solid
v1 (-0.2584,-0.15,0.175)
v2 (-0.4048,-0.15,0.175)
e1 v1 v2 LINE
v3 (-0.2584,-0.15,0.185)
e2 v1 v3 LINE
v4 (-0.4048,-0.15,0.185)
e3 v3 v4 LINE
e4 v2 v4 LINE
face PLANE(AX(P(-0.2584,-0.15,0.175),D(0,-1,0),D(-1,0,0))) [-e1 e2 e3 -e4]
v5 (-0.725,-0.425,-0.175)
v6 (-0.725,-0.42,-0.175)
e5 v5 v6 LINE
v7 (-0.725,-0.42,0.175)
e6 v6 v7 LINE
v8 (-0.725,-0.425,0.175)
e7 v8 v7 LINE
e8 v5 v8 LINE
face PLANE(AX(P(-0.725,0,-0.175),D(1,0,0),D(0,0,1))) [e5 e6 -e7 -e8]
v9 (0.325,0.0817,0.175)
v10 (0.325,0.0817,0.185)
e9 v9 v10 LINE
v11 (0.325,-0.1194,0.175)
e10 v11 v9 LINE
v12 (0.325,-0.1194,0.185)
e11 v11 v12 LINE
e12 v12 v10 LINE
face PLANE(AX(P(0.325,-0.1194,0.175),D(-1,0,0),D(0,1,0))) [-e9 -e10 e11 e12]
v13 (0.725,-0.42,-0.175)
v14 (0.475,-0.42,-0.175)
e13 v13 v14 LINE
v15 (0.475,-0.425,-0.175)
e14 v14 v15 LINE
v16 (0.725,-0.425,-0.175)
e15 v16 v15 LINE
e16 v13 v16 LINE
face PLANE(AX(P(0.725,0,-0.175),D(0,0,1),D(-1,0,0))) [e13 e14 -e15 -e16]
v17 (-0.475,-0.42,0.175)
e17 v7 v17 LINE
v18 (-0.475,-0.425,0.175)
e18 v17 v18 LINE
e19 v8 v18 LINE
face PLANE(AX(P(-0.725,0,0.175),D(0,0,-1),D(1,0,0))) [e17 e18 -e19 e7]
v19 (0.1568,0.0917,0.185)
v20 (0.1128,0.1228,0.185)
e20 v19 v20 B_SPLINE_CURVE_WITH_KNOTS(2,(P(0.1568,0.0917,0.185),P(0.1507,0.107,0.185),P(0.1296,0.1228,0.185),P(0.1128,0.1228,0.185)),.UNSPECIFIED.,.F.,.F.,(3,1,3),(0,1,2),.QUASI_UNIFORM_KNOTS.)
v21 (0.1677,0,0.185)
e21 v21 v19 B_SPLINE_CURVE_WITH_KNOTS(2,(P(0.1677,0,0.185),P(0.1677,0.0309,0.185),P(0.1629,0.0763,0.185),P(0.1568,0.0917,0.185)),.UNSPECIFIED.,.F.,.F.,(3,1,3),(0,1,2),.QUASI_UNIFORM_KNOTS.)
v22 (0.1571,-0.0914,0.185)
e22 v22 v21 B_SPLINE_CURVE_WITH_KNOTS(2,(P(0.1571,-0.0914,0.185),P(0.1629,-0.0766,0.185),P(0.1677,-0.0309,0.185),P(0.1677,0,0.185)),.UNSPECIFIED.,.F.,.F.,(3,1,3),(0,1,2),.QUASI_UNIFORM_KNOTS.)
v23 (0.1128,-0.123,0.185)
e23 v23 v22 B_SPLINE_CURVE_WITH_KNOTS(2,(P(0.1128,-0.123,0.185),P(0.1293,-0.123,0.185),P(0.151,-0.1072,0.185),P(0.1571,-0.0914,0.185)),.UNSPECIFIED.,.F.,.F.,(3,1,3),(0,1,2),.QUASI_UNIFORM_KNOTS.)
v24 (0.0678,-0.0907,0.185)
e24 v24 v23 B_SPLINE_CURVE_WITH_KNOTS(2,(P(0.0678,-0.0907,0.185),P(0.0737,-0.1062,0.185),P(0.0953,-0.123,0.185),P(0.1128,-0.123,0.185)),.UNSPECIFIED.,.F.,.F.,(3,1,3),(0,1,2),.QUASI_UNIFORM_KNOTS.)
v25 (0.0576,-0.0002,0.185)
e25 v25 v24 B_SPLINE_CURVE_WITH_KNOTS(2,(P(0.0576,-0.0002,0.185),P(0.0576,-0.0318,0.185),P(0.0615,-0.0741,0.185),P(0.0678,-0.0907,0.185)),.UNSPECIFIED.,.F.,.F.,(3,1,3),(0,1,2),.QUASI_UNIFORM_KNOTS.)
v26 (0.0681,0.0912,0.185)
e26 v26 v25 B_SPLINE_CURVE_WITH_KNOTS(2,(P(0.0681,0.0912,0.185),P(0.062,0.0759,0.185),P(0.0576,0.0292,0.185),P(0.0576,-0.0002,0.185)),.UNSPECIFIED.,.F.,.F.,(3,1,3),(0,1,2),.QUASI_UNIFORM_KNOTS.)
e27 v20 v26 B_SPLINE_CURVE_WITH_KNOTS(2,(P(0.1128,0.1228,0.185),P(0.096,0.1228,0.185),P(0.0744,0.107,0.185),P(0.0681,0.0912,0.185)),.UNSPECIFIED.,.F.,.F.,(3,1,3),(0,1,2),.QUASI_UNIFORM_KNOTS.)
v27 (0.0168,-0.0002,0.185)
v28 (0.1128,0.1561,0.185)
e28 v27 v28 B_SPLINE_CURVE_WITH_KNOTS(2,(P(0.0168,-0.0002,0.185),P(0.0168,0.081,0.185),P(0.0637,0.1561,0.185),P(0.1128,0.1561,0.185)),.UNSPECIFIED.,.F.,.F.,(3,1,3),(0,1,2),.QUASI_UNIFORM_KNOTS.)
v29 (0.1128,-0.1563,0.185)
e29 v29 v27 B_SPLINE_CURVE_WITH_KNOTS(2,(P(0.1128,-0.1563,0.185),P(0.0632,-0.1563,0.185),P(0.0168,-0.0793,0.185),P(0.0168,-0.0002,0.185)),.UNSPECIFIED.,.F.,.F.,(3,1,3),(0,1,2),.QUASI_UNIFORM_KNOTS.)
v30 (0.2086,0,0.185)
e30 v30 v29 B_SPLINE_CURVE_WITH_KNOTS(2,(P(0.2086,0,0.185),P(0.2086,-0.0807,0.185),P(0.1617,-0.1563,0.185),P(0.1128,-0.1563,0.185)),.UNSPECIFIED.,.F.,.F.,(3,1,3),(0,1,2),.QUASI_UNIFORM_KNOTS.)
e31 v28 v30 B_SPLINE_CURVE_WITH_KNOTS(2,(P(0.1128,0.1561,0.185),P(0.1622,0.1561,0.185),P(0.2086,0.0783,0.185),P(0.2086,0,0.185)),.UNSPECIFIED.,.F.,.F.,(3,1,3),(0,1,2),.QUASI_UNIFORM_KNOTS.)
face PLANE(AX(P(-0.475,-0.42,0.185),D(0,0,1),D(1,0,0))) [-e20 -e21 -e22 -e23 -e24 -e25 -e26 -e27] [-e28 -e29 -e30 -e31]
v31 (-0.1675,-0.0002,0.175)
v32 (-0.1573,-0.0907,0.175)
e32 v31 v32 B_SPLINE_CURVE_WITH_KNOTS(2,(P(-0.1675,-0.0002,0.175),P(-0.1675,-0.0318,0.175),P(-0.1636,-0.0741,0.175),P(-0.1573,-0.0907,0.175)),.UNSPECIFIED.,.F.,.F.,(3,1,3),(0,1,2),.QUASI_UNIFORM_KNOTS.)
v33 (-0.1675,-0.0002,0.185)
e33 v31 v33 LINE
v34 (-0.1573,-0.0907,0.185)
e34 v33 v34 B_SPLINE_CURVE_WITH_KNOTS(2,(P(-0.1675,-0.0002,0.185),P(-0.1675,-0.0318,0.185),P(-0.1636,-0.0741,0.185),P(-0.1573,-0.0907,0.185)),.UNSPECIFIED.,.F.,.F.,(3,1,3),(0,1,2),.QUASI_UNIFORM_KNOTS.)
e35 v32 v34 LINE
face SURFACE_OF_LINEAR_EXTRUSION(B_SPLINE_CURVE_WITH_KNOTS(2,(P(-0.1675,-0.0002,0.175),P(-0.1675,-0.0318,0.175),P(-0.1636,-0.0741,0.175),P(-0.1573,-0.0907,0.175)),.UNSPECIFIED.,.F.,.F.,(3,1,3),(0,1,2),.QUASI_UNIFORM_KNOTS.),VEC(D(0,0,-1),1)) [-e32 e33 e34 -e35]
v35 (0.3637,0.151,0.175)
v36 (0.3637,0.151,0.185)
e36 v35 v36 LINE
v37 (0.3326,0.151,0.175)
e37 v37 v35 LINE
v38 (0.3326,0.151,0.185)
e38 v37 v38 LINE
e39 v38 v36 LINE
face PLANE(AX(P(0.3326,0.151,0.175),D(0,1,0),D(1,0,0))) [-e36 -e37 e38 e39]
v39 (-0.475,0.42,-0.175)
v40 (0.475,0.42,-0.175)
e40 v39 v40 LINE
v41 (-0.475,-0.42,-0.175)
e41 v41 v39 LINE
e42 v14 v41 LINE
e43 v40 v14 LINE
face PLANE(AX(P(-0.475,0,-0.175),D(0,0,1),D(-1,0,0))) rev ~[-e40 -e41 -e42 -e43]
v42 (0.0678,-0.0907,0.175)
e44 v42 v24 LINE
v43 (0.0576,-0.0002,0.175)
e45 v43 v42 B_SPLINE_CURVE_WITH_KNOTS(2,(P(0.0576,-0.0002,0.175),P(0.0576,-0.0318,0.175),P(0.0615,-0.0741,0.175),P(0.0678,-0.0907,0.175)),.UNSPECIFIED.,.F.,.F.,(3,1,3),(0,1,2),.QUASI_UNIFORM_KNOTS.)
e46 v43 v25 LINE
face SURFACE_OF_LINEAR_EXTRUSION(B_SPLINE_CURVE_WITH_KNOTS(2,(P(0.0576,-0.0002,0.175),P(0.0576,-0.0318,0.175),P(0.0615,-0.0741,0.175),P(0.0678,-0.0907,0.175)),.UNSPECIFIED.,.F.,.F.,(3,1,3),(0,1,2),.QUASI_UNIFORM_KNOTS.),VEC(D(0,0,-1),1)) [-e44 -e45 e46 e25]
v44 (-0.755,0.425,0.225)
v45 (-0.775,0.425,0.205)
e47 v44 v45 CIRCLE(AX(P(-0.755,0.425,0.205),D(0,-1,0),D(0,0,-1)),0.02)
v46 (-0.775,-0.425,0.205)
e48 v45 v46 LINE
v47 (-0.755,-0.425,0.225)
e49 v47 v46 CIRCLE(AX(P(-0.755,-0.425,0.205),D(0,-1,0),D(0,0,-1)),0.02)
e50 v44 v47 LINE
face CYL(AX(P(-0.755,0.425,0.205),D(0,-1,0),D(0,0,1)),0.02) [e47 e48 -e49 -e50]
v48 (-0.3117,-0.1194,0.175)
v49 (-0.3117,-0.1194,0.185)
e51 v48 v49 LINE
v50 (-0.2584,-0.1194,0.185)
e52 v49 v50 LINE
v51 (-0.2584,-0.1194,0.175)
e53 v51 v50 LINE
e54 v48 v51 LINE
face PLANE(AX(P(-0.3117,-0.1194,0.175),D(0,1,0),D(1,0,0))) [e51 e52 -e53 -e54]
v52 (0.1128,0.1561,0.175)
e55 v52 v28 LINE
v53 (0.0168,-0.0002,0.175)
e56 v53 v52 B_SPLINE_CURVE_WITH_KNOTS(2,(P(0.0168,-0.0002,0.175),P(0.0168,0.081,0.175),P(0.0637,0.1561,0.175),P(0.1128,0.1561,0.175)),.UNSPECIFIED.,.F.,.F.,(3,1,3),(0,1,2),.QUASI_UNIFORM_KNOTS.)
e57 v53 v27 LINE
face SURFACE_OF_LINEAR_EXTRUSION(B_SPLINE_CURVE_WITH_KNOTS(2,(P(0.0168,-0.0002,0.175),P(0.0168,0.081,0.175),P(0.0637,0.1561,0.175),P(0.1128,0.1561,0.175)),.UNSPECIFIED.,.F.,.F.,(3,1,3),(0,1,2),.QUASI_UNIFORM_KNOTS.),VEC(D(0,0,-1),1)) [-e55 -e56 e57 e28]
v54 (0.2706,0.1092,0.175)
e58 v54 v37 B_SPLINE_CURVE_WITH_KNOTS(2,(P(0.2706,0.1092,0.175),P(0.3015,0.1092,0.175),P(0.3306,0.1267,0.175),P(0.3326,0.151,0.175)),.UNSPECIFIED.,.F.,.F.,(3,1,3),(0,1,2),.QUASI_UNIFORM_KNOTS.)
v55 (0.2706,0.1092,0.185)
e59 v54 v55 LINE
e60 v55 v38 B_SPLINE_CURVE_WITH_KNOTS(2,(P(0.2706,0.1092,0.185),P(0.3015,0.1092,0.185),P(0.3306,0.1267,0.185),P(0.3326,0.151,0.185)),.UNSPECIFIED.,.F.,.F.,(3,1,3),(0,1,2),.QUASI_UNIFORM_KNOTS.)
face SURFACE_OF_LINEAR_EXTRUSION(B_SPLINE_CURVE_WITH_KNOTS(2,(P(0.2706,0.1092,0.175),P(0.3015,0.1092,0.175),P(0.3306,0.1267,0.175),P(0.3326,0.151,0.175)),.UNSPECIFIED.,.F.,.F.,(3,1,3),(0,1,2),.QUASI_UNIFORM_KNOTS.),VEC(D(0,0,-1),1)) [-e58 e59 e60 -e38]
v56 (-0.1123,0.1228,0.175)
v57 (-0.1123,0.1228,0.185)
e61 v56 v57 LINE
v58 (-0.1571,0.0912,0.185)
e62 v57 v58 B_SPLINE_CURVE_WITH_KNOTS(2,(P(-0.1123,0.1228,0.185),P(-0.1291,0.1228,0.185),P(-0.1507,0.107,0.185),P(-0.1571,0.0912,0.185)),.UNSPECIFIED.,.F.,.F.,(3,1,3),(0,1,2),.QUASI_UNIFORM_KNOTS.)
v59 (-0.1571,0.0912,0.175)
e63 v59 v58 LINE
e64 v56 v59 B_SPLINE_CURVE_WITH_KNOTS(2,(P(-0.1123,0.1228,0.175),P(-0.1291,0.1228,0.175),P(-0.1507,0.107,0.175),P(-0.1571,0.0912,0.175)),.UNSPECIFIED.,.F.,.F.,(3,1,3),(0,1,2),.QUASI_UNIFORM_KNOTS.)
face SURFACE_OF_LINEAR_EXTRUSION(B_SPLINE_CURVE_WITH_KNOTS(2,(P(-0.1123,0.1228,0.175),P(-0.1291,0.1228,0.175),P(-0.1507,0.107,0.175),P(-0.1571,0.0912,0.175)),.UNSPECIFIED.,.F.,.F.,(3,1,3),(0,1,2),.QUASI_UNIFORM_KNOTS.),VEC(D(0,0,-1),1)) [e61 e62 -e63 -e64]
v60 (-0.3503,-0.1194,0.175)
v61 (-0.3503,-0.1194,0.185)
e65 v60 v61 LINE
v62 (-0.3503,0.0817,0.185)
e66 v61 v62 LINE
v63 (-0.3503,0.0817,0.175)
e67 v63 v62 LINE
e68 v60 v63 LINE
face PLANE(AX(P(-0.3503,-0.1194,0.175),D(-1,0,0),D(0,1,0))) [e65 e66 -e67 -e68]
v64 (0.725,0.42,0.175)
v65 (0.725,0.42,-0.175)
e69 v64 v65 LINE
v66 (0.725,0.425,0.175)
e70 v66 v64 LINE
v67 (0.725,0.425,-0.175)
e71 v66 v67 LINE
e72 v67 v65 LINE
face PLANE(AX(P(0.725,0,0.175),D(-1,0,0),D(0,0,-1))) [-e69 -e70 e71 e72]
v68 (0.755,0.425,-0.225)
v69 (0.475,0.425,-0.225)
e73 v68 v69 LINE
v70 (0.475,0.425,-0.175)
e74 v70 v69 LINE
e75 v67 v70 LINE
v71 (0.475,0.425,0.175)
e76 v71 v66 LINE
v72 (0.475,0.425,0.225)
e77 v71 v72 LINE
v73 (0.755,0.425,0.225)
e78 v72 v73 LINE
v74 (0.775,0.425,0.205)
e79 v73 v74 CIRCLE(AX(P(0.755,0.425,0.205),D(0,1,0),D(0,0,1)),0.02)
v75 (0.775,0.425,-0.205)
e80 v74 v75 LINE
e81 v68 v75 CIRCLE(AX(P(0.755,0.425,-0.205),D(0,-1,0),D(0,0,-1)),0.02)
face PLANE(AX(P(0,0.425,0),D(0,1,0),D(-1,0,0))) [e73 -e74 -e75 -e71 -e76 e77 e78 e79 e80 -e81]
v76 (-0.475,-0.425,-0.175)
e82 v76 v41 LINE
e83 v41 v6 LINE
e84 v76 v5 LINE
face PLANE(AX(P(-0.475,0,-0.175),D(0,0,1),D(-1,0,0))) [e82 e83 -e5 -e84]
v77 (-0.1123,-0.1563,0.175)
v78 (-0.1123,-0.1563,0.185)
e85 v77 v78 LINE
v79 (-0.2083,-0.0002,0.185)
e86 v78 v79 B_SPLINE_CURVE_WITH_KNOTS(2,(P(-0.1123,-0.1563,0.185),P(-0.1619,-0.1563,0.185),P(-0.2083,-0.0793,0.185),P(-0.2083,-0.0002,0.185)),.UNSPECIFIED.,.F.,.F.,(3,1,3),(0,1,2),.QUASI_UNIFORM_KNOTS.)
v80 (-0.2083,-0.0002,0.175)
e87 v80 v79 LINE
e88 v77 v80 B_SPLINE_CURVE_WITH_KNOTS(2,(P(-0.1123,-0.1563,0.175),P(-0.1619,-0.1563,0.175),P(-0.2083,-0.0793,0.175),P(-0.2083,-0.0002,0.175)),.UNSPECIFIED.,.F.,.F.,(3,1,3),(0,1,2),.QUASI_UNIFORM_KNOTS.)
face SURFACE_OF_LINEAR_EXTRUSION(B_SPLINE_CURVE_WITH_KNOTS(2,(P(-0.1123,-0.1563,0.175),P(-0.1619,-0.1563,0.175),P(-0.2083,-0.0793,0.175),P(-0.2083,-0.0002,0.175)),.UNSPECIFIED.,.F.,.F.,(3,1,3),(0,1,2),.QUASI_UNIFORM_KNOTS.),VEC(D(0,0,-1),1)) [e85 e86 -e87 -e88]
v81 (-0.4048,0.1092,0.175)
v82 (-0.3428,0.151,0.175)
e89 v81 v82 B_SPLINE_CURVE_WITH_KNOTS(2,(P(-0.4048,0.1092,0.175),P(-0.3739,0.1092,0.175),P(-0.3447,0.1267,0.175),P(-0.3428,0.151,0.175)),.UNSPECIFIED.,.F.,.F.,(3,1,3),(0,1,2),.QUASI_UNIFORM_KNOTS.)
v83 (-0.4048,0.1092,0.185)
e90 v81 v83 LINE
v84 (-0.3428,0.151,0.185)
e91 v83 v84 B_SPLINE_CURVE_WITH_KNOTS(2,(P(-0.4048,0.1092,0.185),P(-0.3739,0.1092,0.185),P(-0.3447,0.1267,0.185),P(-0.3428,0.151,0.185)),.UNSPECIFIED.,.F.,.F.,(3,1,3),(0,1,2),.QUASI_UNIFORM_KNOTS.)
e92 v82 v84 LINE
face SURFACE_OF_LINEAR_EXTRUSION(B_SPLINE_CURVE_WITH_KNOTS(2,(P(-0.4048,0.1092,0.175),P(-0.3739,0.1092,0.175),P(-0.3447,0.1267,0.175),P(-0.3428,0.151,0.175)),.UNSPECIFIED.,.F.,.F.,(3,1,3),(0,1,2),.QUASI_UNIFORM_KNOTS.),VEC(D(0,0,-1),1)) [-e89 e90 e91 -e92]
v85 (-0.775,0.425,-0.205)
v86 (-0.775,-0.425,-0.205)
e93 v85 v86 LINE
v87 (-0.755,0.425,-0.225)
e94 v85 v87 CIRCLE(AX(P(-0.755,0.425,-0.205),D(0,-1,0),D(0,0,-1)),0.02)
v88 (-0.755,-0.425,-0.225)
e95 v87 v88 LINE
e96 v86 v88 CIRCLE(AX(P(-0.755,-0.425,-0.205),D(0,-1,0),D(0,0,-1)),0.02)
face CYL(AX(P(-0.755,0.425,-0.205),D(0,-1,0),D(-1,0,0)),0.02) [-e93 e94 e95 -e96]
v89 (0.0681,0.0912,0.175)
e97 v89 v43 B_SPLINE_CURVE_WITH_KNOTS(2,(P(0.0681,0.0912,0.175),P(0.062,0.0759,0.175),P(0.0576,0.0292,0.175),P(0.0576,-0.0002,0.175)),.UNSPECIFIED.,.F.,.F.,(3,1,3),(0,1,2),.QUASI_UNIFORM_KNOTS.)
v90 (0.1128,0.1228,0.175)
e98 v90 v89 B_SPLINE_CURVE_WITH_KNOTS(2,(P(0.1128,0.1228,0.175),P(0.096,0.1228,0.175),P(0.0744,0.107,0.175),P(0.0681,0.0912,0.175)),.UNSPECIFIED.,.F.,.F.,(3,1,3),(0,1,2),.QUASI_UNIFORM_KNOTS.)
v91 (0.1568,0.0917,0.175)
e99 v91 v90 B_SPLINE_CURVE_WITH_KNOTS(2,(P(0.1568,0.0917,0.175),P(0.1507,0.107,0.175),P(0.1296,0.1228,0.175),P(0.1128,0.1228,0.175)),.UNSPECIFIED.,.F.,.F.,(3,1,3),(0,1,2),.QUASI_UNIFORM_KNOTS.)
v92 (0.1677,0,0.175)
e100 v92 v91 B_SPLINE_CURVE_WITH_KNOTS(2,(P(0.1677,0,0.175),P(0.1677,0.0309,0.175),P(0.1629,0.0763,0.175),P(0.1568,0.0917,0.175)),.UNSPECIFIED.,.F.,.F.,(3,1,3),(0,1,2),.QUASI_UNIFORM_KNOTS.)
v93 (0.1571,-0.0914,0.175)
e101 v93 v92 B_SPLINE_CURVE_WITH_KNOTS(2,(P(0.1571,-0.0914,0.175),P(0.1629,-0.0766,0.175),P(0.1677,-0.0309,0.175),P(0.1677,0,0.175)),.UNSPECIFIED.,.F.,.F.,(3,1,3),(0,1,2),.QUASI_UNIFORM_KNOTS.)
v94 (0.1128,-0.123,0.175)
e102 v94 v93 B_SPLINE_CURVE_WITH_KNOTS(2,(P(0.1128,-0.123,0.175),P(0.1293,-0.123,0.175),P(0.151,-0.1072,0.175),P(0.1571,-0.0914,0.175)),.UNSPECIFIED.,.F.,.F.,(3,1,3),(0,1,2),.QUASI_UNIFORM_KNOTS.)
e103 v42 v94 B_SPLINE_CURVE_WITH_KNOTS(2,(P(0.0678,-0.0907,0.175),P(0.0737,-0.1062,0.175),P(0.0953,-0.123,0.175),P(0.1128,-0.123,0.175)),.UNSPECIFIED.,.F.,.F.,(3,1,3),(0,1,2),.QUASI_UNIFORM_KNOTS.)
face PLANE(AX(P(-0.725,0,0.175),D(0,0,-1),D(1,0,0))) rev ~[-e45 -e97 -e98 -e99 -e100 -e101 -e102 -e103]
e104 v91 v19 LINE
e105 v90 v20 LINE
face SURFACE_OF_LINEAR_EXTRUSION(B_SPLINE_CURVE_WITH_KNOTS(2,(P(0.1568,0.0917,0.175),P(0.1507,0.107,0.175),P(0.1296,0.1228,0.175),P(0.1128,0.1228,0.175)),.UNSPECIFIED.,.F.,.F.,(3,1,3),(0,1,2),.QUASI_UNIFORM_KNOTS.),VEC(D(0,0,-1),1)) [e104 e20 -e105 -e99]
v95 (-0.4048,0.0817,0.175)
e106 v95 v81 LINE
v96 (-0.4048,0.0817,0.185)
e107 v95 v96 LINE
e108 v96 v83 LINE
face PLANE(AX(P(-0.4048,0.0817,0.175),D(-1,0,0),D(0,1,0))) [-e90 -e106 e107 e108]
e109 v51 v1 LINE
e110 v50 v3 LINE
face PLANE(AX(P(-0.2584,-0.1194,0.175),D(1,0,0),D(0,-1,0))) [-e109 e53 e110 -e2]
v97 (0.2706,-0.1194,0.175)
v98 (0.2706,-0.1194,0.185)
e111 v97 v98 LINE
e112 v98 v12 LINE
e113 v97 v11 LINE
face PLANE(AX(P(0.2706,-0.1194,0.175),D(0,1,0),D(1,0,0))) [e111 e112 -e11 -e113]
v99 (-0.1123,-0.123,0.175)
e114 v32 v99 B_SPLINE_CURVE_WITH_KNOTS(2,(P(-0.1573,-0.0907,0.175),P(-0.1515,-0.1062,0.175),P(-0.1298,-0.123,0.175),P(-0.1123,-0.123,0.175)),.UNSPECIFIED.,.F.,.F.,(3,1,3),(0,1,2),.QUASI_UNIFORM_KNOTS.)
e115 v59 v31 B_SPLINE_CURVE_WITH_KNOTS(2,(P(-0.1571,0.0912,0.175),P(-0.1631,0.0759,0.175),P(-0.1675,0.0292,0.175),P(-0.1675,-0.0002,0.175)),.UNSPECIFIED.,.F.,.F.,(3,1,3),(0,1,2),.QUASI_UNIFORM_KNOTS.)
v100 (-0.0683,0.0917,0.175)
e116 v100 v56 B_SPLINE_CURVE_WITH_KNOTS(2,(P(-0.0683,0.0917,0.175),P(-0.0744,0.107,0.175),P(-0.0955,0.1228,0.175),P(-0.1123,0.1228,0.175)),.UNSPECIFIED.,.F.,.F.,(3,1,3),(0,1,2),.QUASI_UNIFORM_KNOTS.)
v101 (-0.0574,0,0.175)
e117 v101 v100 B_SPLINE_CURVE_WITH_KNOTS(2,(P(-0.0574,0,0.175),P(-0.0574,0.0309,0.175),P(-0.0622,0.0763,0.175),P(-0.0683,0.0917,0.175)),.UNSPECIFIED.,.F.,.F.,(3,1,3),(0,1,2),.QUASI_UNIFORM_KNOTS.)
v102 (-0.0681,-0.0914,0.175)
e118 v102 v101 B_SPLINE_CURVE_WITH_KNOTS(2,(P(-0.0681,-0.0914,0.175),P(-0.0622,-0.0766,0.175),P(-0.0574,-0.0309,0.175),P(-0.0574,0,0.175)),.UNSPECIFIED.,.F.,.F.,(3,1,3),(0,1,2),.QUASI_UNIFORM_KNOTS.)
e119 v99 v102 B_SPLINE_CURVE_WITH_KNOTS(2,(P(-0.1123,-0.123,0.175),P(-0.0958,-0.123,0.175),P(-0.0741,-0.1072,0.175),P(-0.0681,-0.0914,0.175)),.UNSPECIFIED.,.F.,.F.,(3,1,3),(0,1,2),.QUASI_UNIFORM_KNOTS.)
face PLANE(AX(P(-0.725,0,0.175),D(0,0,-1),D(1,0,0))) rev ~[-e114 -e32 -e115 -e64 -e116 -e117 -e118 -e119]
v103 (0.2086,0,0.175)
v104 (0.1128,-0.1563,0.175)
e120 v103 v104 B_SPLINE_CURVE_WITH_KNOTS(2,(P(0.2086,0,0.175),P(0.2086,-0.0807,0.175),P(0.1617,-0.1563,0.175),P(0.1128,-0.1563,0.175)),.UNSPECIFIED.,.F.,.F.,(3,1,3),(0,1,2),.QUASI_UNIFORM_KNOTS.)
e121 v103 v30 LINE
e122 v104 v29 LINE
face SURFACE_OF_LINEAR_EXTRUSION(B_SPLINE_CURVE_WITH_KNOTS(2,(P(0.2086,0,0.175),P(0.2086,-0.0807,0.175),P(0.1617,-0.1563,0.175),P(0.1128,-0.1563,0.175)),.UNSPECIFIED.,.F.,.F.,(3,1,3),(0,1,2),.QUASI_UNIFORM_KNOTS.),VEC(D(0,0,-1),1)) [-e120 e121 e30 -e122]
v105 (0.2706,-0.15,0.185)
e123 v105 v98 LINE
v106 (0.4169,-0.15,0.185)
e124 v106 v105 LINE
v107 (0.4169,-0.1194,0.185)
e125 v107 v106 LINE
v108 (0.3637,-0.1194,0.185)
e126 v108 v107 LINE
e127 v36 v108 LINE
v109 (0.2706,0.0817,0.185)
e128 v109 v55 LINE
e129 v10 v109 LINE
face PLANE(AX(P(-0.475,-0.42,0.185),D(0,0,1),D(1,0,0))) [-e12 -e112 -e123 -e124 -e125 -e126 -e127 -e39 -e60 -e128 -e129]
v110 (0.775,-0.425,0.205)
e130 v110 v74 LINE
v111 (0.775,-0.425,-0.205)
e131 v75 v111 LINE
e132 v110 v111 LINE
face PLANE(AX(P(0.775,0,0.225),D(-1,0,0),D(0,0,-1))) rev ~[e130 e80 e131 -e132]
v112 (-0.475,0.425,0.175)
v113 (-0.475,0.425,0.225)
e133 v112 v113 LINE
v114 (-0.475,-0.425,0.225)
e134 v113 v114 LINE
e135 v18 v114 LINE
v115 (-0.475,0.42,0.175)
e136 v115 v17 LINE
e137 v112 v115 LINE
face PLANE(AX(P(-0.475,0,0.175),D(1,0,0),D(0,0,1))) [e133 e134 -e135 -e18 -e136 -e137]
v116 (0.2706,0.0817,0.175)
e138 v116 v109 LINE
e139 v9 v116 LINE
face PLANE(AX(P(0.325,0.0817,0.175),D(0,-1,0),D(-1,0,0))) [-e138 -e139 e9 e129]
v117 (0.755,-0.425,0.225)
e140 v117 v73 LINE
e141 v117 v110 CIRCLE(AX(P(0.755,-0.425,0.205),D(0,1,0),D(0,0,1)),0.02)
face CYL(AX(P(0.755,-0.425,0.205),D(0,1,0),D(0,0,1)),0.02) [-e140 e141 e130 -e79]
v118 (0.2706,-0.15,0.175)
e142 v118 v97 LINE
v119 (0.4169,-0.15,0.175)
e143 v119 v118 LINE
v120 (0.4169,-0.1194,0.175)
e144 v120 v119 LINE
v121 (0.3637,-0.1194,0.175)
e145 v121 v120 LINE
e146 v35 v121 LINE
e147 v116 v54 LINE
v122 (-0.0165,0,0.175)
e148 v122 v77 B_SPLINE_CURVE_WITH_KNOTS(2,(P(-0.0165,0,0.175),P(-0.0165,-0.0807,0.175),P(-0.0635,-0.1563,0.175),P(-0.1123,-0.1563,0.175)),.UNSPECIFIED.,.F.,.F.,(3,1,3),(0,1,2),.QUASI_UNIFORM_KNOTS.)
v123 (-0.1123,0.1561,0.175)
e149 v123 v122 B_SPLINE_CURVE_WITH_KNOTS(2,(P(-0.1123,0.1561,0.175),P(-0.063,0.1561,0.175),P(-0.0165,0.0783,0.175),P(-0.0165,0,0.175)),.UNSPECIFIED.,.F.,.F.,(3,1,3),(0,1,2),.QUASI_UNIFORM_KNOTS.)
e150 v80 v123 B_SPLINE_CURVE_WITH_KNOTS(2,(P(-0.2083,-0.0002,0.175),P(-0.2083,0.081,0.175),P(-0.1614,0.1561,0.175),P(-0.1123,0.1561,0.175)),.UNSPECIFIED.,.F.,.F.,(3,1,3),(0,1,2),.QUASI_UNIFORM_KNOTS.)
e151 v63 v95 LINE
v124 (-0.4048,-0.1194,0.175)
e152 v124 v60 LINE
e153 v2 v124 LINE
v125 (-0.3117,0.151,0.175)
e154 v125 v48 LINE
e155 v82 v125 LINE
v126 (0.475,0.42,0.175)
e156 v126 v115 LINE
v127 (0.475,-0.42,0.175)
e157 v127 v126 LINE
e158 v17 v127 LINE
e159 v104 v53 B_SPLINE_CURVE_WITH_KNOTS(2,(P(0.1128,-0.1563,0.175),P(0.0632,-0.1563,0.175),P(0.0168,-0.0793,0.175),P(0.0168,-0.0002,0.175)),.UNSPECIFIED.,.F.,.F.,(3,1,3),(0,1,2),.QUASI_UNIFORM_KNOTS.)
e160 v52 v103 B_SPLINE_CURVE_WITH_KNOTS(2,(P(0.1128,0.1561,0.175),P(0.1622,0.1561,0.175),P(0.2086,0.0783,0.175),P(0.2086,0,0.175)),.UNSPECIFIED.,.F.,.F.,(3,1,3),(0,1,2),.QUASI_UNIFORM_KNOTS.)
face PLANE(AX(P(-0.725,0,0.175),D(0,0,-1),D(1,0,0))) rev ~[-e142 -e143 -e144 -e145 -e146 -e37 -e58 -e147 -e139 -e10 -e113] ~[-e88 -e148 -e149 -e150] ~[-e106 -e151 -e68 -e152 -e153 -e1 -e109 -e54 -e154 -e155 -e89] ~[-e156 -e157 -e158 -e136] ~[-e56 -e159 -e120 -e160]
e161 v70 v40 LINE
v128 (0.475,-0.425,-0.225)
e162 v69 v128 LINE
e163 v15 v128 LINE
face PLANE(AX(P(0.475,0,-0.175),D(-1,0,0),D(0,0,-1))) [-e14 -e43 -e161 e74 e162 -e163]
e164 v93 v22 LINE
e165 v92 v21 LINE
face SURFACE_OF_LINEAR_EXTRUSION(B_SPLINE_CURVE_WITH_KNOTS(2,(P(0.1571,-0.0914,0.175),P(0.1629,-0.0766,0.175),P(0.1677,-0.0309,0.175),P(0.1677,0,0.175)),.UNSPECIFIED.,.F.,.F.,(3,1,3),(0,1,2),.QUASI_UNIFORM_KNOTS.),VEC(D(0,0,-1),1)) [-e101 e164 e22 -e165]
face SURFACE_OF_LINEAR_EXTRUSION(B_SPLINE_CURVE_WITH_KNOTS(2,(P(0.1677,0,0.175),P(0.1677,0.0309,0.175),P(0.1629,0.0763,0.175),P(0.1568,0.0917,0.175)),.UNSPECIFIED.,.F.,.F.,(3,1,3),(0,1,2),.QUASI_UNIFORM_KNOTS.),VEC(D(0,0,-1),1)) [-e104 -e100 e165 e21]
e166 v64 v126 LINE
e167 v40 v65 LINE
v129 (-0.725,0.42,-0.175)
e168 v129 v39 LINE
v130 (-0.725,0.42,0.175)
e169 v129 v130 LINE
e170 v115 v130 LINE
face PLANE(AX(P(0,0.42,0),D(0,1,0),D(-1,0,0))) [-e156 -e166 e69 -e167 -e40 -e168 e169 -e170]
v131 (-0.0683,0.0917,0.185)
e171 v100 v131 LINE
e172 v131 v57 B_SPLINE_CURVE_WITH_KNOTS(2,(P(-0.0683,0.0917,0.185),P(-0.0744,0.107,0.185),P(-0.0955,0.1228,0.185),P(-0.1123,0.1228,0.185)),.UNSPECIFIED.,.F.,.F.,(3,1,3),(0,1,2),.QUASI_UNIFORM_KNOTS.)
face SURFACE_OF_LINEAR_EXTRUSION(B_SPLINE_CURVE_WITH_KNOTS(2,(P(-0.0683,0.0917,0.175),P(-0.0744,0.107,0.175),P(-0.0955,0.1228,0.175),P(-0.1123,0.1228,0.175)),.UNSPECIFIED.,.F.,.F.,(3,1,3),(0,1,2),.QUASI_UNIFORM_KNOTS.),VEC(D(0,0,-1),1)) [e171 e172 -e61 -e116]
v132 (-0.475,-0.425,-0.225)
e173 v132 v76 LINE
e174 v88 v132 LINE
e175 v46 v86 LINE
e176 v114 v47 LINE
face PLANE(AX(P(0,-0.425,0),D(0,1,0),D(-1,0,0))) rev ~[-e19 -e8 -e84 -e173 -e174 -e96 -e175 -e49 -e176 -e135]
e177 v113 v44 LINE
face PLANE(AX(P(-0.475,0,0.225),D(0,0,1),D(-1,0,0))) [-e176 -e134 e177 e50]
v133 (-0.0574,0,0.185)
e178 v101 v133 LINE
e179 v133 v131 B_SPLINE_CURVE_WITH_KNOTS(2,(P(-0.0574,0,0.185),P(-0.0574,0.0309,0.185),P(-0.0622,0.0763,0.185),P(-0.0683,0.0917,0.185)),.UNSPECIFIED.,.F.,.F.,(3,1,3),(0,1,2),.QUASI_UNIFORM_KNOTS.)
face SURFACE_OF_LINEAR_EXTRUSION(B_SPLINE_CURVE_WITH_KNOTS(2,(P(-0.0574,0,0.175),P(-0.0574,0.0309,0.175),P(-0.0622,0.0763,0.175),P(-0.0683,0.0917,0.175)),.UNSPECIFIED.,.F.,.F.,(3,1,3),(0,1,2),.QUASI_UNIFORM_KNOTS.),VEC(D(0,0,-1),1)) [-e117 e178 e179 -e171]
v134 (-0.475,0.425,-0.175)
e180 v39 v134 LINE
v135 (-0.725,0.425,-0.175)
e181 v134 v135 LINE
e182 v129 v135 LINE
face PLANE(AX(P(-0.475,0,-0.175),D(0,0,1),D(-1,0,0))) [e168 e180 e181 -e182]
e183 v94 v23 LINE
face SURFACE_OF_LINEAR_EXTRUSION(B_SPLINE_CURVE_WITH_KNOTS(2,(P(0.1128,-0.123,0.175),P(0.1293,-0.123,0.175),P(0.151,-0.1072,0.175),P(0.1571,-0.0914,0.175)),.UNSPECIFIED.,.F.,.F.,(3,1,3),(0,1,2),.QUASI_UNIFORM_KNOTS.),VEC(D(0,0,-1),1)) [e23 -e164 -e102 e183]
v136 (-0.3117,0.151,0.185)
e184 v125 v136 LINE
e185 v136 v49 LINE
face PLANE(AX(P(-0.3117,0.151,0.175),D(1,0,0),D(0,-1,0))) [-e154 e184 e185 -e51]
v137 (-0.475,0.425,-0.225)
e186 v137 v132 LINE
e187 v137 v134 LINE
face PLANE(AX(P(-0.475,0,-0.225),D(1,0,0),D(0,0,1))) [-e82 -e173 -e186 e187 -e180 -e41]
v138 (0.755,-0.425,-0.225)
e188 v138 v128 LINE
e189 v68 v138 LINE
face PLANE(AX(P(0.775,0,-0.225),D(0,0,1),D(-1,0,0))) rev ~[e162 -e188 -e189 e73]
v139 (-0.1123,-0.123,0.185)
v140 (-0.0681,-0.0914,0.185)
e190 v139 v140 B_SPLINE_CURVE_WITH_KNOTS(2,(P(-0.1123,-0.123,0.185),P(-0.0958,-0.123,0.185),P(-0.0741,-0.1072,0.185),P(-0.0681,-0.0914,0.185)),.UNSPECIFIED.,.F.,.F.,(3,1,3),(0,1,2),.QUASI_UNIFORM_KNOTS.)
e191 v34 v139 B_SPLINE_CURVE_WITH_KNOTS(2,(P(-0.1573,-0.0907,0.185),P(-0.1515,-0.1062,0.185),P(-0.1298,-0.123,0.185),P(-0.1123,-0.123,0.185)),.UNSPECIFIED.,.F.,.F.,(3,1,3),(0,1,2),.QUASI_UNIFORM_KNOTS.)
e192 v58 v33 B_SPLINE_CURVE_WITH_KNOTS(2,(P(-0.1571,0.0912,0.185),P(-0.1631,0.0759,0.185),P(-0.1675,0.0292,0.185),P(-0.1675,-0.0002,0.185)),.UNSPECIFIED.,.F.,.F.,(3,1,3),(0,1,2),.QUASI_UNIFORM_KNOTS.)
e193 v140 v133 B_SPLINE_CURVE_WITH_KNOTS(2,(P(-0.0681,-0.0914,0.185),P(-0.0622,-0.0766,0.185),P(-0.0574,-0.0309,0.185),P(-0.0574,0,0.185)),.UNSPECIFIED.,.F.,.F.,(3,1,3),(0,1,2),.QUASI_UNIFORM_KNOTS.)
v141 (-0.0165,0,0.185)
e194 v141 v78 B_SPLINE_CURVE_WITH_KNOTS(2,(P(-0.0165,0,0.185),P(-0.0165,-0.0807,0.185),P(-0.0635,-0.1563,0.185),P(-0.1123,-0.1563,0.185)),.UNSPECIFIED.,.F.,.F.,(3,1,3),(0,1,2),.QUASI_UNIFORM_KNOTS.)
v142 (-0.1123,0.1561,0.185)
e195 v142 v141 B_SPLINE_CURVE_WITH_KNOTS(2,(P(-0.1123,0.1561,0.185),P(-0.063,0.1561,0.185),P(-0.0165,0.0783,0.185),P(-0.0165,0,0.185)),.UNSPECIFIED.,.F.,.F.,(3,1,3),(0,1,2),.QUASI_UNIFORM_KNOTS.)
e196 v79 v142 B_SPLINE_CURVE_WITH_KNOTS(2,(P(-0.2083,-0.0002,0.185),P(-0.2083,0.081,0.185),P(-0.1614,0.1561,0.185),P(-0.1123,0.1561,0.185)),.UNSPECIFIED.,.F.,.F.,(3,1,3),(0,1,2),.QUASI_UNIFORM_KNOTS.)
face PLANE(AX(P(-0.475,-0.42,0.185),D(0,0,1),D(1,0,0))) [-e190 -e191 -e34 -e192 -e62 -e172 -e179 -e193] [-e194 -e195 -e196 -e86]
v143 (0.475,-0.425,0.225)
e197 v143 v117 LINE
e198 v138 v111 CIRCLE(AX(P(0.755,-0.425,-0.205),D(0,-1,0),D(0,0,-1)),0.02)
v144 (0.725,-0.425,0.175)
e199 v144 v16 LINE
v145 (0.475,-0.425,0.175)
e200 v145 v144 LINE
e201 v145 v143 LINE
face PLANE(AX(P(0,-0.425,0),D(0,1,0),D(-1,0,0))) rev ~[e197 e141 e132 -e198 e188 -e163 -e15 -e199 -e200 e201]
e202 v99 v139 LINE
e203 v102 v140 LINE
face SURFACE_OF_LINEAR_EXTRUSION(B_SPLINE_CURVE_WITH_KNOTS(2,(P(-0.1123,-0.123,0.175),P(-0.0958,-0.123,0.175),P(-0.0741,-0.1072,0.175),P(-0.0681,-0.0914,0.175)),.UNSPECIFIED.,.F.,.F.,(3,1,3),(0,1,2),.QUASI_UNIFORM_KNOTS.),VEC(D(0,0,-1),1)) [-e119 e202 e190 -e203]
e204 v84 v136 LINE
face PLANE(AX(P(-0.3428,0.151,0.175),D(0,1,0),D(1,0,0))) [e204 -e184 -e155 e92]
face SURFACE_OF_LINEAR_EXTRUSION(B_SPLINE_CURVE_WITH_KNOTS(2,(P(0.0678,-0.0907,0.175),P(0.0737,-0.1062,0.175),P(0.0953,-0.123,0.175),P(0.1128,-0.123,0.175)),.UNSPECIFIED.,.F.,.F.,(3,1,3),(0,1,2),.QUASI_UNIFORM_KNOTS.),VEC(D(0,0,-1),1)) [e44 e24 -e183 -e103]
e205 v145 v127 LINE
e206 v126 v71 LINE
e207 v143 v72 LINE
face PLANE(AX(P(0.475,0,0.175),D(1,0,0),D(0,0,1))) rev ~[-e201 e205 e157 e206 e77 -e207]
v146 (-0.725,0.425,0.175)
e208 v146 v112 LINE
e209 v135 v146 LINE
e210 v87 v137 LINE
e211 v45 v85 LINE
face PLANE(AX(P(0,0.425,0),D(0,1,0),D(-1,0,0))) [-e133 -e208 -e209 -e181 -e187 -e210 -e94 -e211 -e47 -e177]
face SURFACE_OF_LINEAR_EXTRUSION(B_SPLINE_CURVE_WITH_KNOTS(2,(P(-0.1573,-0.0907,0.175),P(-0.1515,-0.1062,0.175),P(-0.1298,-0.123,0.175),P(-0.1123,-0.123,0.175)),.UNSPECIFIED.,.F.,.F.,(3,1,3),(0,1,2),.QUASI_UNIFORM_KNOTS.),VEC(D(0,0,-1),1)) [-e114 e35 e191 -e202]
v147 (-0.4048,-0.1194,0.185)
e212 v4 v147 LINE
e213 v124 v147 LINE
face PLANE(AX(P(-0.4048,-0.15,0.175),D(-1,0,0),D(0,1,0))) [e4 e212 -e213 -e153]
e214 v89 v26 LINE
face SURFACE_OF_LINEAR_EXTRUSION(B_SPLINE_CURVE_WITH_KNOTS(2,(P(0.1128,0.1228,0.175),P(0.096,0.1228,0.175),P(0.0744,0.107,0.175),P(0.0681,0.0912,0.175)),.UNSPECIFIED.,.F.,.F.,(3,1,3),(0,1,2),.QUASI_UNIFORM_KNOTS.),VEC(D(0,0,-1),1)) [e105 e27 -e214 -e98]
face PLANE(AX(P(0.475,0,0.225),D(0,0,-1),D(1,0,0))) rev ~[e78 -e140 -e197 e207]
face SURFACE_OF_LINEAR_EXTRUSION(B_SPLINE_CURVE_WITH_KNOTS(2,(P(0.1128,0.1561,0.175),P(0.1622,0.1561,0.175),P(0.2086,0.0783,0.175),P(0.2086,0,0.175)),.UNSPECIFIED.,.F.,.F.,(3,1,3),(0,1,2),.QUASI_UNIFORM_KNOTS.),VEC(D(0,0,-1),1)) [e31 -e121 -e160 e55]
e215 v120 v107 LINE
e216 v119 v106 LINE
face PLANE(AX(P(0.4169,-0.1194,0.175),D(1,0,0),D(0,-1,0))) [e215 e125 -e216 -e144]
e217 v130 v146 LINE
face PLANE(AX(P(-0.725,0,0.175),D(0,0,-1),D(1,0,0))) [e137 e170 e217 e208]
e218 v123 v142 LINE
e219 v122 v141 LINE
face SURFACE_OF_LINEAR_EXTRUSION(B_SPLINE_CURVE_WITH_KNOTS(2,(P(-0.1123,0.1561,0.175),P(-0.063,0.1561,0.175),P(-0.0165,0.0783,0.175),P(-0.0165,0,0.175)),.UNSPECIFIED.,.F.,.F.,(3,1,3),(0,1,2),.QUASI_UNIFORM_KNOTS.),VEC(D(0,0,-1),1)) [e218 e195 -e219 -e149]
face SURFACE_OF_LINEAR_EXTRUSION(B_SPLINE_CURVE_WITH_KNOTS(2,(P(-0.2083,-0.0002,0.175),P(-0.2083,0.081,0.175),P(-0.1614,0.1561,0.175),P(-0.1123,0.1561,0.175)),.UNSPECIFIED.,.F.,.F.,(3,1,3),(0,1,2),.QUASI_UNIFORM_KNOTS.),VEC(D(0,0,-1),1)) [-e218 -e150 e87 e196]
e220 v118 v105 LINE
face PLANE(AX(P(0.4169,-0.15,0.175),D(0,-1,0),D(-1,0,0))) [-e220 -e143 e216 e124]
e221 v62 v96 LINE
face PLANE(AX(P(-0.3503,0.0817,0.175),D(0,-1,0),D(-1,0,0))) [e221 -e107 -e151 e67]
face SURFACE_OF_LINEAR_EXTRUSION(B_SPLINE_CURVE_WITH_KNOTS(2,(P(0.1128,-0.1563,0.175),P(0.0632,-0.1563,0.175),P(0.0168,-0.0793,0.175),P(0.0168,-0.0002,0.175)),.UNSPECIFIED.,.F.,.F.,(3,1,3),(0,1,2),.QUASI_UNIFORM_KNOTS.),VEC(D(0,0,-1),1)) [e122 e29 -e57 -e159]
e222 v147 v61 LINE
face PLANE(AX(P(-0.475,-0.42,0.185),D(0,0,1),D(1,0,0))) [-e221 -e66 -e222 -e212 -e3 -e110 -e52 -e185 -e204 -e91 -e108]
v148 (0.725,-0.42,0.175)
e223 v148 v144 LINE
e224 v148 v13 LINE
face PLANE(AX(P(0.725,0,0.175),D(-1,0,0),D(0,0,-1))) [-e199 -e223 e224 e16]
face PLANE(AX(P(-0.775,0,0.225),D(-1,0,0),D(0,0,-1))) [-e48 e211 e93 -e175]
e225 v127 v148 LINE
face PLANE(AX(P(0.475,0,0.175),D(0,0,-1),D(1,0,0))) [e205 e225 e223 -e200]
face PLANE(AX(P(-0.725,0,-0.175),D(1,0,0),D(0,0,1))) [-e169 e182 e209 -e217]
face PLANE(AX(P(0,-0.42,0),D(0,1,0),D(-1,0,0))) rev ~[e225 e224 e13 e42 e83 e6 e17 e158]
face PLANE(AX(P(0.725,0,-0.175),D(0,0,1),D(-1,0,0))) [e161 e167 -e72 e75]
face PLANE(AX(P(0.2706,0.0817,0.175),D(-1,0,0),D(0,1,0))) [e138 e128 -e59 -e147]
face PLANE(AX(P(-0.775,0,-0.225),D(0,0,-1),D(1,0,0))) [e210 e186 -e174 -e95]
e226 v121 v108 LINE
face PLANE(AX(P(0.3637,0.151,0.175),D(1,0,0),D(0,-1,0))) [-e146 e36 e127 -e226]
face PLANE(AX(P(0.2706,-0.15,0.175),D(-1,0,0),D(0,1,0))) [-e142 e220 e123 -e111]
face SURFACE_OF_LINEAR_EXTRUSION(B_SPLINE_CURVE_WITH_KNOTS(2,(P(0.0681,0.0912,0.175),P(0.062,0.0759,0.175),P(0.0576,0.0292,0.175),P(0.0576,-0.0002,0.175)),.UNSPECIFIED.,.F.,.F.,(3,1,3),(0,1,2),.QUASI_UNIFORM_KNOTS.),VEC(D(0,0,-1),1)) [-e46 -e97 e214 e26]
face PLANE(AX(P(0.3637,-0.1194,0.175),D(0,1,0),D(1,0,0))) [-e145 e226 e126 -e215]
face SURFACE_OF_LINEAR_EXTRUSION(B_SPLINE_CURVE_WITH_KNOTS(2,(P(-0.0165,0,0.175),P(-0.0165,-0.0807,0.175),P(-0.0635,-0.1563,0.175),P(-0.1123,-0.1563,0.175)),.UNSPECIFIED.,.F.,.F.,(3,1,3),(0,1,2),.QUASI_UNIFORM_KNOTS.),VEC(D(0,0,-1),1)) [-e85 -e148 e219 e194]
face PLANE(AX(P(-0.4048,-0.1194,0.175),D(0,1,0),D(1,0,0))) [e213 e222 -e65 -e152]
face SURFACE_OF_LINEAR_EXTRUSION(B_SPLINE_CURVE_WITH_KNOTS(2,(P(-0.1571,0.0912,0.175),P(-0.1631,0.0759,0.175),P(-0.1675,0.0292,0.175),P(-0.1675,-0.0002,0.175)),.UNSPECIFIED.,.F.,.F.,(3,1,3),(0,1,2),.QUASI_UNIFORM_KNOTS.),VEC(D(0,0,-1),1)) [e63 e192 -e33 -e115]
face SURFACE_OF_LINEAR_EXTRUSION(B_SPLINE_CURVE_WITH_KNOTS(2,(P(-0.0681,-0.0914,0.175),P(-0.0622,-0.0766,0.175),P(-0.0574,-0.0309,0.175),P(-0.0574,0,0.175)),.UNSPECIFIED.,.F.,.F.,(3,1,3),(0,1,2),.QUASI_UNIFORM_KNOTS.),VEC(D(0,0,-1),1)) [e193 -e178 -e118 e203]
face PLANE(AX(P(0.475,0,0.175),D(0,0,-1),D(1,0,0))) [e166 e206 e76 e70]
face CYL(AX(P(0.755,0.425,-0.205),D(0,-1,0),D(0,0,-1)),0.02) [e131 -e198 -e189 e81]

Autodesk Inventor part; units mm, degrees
ref_plane "YZ Plane" through (0, 0, 0) normal (1, 0, 0) x (0, 1, 0)
ref_plane "XZ Plane" through (0, 0, 0) normal (0, 1, 0) x (-1, 0, 0)
ref_plane "XY Plane" through (0, 0, 0) normal (0, 0, 1) x (1, 0, 0)
sketch "Sketch1" plane through (0, 0, 0) normal (0, 1, 0) x (-1, 0, 0)
  line L0 (0.725, 0.175) -> (-0.725, 0.175)
  line L1 (-0.725, 0.175) -> (-0.725, -0.175)
  line L2 (-0.725, -0.175) -> (0.725, -0.175)
  line L3 (0.725, -0.175) -> (0.725, 0.175)
  line L4 (0.475, 0.175) -> (0.475, 0.225)
  line L5 (0.475, 0.225) -> (0.775, 0.225)
  line L6 (0.775, 0.225) -> (0.775, -0.225)
  line L7 (0.775, -0.225) -> (0.475, -0.225)
  line L8 (0.475, -0.225) -> (0.475, -0.175)
  line L9 (-0.475, 0.175) -> (-0.475, 0.225)
  line L10 (-0.475, 0.225) -> (-0.775, 0.225)
  line L11 (-0.775, 0.225) -> (-0.775, -0.225)
  line L12 (-0.775, -0.225) -> (-0.475, -0.225)
  line L13 (-0.475, -0.175) -> (-0.475, -0.225)
  line L14 (0.475, 0.175) -> (-0.475, 0.175)
  point P0 (0, 0)
  point P1 (0, 0.175)
  point P2 (0.725, 0)
  dimension "d0" = 1.55
  dimension "d1" = 0.05
  dimension "d2" = 0.05
  dimension "d3" = 0.45
  dimension "d4" = 0.3
extrude "Extrusion1" add sketch "Sketch1" along normal mid plane 0.85 contours L0 L4 L5 L6 L7 L8 L2 L3 | L0 L1 L2 L13 L12 L11 L10 L9
extrude "Extrusion2" add sketch "Sketch1" along normal mid plane 0.84 contours L3 L2 L1 L0
sketch "Sketch2" plane through (-0.475, -0.42, 0.175) normal (0, 0, 1) x (1, 0, 0)
  line L0 (0, 0) -> (0, 0.84) projected
  line L1 (0.95, 0) -> (0, 0) projected
  line L2 (0.95, 0) -> (0.95, 0.84) projected
  line L3 (0, 0.84) -> (0.95, 0.84) projected
  line L4 (0, 0.42) -> (0.95, 0.42) construction
  line L5 (0.2166, 0.27) -> (0.0702, 0.27)
  line L6 (0.0702, 0.27) -> (0.0702, 0.3006)
  line L7 (0.0702, 0.3006) -> (0.1247, 0.3006)
  line L8 (0.1247, 0.3006) -> (0.1247, 0.5017)
  line L9 (0.1247, 0.5017) -> (0.0702, 0.5017)
  line L10 (0.0702, 0.5017) -> (0.0702, 0.5292)
  spline S0 degree 2 poles (0.0702, 0.5292) (0.1011, 0.5292) (0.1303, 0.5467) (0.1322, 0.571) knots 0 0 0 1 2 2 2
  line L11 (0.1322, 0.571) -> (0.1633, 0.571)
  line L12 (0.1633, 0.571) -> (0.1633, 0.3006)
  line L13 (0.1633, 0.3006) -> (0.2166, 0.3006)
  line L14 (0.2166, 0.3006) -> (0.2166, 0.27)
  spline S1 degree 2 poles (0.4585, 0.42) (0.4585, 0.3393) (0.4115, 0.2637) (0.3627, 0.2637) knots 0 0 0 1 2 2 2
  spline S2 degree 2 poles (0.3627, 0.2637) (0.3131, 0.2637) (0.2667, 0.3407) (0.2667, 0.4198) knots 0 0 0 1 2 2 2
  spline S3 degree 2 poles (0.2667, 0.4198) (0.2667, 0.501) (0.3136, 0.5761) (0.3627, 0.5761) knots 0 0 0 1 2 2 2
  spline S4 degree 2 poles (0.3627, 0.5761) (0.412, 0.5761) (0.4585, 0.4983) (0.4585, 0.42) knots 0 0 0 1 2 2 2
  spline S5 degree 2 poles (0.4069, 0.3286) (0.4128, 0.3434) (0.4176, 0.3891) (0.4176, 0.42) knots 0 0 0 1 2 2 2
  spline S6 degree 2 poles (0.4176, 0.42) (0.4176, 0.4509) (0.4128, 0.4963) (0.4067, 0.5117) knots 0 0 0 1 2 2 2
  spline S7 degree 2 poles (0.4067, 0.5117) (0.4006, 0.527) (0.3795, 0.5428) (0.3627, 0.5428) knots 0 0 0 1 2 2 2
  spline S8 degree 2 poles (0.3627, 0.5428) (0.3459, 0.5428) (0.3243, 0.527) (0.3179, 0.5112) knots 0 0 0 1 2 2 2
  spline S9 degree 2 poles (0.3179, 0.5112) (0.3119, 0.4959) (0.3075, 0.4492) (0.3075, 0.4198) knots 0 0 0 1 2 2 2
  spline S10 degree 2 poles (0.3075, 0.4198) (0.3075, 0.3882) (0.3114, 0.3459) (0.3177, 0.3293) knots 0 0 0 1 2 2 2
  spline S11 degree 2 poles (0.3177, 0.3293) (0.3235, 0.3138) (0.3452, 0.297) (0.3627, 0.297) knots 0 0 0 1 2 2 2
  spline S12 degree 2 poles (0.3627, 0.297) (0.3792, 0.297) (0.4009, 0.3128) (0.4069, 0.3286) knots 0 0 0 1 2 2 2
  spline S13 degree 2 poles (0.6836, 0.42) (0.6836, 0.3393) (0.6367, 0.2637) (0.5878, 0.2637) knots 0 0 0 1 2 2 2
  spline S14 degree 2 poles (0.5878, 0.2637) (0.5382, 0.2637) (0.4918, 0.3407) (0.4918, 0.4198) knots 0 0 0 1 2 2 2
  spline S15 degree 2 poles (0.4918, 0.4198) (0.4918, 0.501) (0.5387, 0.5761) (0.5878, 0.5761) knots 0 0 0 1 2 2 2
  spline S16 degree 2 poles (0.5878, 0.5761) (0.6372, 0.5761) (0.6836, 0.4983) (0.6836, 0.42) knots 0 0 0 1 2 2 2
  spline S17 degree 2 poles (0.6321, 0.3286) (0.6379, 0.3434) (0.6427, 0.3891) (0.6427, 0.42) knots 0 0 0 1 2 2 2
  spline S18 degree 2 poles (0.6427, 0.42) (0.6427, 0.4509) (0.6379, 0.4963) (0.6318, 0.5117) knots 0 0 0 1 2 2 2
  spline S19 degree 2 poles (0.6318, 0.5117) (0.6257, 0.527) (0.6046, 0.5428) (0.5878, 0.5428) knots 0 0 0 1 2 2 2
  spline S20 degree 2 poles (0.5878, 0.5428) (0.571, 0.5428) (0.5494, 0.527) (0.5431, 0.5112) knots 0 0 0 1 2 2 2
  spline S21 degree 2 poles (0.5431, 0.5112) (0.537, 0.4959) (0.5326, 0.4492) (0.5326, 0.4198) knots 0 0 0 1 2 2 2
  spline S22 degree 2 poles (0.5326, 0.4198) (0.5326, 0.3882) (0.5365, 0.3459) (0.5428, 0.3293) knots 0 0 0 1 2 2 2
  spline S23 degree 2 poles (0.5428, 0.3293) (0.5487, 0.3138) (0.5703, 0.297) (0.5878, 0.297) knots 0 0 0 1 2 2 2
  spline S24 degree 2 poles (0.5878, 0.297) (0.6043, 0.297) (0.626, 0.3128) (0.6321, 0.3286) knots 0 0 0 1 2 2 2
  line L15 (0.8919, 0.27) -> (0.7456, 0.27)
  line L16 (0.7456, 0.27) -> (0.7456, 0.3006)
  line L17 (0.7456, 0.3006) -> (0.8, 0.3006)
  line L18 (0.8, 0.3006) -> (0.8, 0.5017)
  line L19 (0.8, 0.5017) -> (0.7456, 0.5017)
  line L20 (0.7456, 0.5017) -> (0.7456, 0.5292)
  spline S25 degree 2 poles (0.7456, 0.5292) (0.7765, 0.5292) (0.8056, 0.5467) (0.8076, 0.571) knots 0 0 0 1 2 2 2
  line L21 (0.8076, 0.571) -> (0.8387, 0.571)
  line L22 (0.8387, 0.571) -> (0.8387, 0.3006)
  line L23 (0.8387, 0.3006) -> (0.8919, 0.3006)
  line L24 (0.8919, 0.3006) -> (0.8919, 0.27)
  point P0 (0.475, 0.42)
extrude "Extrusion3" add sketch "Sketch2" along normal blind 0.01 contours L5 L6 L7 L8 L9 L10 S0 L11 L12 L13 L14 | S1 S2 S3 S4 | S13 S14 S15 S16 | L15 L16 L17 L18 L19 L20 S25 L21 L22 L23 L24
fillet "Fillet1" radius 0.02 4 edges at (-0.775, 0, 0.225) (-0.775, 0, -0.225) (0.775, 0, 0.225) (0.775, 0, -0.225)
equation "\"d2\" = d1"
properties part number "21-1001" material "Copper"
